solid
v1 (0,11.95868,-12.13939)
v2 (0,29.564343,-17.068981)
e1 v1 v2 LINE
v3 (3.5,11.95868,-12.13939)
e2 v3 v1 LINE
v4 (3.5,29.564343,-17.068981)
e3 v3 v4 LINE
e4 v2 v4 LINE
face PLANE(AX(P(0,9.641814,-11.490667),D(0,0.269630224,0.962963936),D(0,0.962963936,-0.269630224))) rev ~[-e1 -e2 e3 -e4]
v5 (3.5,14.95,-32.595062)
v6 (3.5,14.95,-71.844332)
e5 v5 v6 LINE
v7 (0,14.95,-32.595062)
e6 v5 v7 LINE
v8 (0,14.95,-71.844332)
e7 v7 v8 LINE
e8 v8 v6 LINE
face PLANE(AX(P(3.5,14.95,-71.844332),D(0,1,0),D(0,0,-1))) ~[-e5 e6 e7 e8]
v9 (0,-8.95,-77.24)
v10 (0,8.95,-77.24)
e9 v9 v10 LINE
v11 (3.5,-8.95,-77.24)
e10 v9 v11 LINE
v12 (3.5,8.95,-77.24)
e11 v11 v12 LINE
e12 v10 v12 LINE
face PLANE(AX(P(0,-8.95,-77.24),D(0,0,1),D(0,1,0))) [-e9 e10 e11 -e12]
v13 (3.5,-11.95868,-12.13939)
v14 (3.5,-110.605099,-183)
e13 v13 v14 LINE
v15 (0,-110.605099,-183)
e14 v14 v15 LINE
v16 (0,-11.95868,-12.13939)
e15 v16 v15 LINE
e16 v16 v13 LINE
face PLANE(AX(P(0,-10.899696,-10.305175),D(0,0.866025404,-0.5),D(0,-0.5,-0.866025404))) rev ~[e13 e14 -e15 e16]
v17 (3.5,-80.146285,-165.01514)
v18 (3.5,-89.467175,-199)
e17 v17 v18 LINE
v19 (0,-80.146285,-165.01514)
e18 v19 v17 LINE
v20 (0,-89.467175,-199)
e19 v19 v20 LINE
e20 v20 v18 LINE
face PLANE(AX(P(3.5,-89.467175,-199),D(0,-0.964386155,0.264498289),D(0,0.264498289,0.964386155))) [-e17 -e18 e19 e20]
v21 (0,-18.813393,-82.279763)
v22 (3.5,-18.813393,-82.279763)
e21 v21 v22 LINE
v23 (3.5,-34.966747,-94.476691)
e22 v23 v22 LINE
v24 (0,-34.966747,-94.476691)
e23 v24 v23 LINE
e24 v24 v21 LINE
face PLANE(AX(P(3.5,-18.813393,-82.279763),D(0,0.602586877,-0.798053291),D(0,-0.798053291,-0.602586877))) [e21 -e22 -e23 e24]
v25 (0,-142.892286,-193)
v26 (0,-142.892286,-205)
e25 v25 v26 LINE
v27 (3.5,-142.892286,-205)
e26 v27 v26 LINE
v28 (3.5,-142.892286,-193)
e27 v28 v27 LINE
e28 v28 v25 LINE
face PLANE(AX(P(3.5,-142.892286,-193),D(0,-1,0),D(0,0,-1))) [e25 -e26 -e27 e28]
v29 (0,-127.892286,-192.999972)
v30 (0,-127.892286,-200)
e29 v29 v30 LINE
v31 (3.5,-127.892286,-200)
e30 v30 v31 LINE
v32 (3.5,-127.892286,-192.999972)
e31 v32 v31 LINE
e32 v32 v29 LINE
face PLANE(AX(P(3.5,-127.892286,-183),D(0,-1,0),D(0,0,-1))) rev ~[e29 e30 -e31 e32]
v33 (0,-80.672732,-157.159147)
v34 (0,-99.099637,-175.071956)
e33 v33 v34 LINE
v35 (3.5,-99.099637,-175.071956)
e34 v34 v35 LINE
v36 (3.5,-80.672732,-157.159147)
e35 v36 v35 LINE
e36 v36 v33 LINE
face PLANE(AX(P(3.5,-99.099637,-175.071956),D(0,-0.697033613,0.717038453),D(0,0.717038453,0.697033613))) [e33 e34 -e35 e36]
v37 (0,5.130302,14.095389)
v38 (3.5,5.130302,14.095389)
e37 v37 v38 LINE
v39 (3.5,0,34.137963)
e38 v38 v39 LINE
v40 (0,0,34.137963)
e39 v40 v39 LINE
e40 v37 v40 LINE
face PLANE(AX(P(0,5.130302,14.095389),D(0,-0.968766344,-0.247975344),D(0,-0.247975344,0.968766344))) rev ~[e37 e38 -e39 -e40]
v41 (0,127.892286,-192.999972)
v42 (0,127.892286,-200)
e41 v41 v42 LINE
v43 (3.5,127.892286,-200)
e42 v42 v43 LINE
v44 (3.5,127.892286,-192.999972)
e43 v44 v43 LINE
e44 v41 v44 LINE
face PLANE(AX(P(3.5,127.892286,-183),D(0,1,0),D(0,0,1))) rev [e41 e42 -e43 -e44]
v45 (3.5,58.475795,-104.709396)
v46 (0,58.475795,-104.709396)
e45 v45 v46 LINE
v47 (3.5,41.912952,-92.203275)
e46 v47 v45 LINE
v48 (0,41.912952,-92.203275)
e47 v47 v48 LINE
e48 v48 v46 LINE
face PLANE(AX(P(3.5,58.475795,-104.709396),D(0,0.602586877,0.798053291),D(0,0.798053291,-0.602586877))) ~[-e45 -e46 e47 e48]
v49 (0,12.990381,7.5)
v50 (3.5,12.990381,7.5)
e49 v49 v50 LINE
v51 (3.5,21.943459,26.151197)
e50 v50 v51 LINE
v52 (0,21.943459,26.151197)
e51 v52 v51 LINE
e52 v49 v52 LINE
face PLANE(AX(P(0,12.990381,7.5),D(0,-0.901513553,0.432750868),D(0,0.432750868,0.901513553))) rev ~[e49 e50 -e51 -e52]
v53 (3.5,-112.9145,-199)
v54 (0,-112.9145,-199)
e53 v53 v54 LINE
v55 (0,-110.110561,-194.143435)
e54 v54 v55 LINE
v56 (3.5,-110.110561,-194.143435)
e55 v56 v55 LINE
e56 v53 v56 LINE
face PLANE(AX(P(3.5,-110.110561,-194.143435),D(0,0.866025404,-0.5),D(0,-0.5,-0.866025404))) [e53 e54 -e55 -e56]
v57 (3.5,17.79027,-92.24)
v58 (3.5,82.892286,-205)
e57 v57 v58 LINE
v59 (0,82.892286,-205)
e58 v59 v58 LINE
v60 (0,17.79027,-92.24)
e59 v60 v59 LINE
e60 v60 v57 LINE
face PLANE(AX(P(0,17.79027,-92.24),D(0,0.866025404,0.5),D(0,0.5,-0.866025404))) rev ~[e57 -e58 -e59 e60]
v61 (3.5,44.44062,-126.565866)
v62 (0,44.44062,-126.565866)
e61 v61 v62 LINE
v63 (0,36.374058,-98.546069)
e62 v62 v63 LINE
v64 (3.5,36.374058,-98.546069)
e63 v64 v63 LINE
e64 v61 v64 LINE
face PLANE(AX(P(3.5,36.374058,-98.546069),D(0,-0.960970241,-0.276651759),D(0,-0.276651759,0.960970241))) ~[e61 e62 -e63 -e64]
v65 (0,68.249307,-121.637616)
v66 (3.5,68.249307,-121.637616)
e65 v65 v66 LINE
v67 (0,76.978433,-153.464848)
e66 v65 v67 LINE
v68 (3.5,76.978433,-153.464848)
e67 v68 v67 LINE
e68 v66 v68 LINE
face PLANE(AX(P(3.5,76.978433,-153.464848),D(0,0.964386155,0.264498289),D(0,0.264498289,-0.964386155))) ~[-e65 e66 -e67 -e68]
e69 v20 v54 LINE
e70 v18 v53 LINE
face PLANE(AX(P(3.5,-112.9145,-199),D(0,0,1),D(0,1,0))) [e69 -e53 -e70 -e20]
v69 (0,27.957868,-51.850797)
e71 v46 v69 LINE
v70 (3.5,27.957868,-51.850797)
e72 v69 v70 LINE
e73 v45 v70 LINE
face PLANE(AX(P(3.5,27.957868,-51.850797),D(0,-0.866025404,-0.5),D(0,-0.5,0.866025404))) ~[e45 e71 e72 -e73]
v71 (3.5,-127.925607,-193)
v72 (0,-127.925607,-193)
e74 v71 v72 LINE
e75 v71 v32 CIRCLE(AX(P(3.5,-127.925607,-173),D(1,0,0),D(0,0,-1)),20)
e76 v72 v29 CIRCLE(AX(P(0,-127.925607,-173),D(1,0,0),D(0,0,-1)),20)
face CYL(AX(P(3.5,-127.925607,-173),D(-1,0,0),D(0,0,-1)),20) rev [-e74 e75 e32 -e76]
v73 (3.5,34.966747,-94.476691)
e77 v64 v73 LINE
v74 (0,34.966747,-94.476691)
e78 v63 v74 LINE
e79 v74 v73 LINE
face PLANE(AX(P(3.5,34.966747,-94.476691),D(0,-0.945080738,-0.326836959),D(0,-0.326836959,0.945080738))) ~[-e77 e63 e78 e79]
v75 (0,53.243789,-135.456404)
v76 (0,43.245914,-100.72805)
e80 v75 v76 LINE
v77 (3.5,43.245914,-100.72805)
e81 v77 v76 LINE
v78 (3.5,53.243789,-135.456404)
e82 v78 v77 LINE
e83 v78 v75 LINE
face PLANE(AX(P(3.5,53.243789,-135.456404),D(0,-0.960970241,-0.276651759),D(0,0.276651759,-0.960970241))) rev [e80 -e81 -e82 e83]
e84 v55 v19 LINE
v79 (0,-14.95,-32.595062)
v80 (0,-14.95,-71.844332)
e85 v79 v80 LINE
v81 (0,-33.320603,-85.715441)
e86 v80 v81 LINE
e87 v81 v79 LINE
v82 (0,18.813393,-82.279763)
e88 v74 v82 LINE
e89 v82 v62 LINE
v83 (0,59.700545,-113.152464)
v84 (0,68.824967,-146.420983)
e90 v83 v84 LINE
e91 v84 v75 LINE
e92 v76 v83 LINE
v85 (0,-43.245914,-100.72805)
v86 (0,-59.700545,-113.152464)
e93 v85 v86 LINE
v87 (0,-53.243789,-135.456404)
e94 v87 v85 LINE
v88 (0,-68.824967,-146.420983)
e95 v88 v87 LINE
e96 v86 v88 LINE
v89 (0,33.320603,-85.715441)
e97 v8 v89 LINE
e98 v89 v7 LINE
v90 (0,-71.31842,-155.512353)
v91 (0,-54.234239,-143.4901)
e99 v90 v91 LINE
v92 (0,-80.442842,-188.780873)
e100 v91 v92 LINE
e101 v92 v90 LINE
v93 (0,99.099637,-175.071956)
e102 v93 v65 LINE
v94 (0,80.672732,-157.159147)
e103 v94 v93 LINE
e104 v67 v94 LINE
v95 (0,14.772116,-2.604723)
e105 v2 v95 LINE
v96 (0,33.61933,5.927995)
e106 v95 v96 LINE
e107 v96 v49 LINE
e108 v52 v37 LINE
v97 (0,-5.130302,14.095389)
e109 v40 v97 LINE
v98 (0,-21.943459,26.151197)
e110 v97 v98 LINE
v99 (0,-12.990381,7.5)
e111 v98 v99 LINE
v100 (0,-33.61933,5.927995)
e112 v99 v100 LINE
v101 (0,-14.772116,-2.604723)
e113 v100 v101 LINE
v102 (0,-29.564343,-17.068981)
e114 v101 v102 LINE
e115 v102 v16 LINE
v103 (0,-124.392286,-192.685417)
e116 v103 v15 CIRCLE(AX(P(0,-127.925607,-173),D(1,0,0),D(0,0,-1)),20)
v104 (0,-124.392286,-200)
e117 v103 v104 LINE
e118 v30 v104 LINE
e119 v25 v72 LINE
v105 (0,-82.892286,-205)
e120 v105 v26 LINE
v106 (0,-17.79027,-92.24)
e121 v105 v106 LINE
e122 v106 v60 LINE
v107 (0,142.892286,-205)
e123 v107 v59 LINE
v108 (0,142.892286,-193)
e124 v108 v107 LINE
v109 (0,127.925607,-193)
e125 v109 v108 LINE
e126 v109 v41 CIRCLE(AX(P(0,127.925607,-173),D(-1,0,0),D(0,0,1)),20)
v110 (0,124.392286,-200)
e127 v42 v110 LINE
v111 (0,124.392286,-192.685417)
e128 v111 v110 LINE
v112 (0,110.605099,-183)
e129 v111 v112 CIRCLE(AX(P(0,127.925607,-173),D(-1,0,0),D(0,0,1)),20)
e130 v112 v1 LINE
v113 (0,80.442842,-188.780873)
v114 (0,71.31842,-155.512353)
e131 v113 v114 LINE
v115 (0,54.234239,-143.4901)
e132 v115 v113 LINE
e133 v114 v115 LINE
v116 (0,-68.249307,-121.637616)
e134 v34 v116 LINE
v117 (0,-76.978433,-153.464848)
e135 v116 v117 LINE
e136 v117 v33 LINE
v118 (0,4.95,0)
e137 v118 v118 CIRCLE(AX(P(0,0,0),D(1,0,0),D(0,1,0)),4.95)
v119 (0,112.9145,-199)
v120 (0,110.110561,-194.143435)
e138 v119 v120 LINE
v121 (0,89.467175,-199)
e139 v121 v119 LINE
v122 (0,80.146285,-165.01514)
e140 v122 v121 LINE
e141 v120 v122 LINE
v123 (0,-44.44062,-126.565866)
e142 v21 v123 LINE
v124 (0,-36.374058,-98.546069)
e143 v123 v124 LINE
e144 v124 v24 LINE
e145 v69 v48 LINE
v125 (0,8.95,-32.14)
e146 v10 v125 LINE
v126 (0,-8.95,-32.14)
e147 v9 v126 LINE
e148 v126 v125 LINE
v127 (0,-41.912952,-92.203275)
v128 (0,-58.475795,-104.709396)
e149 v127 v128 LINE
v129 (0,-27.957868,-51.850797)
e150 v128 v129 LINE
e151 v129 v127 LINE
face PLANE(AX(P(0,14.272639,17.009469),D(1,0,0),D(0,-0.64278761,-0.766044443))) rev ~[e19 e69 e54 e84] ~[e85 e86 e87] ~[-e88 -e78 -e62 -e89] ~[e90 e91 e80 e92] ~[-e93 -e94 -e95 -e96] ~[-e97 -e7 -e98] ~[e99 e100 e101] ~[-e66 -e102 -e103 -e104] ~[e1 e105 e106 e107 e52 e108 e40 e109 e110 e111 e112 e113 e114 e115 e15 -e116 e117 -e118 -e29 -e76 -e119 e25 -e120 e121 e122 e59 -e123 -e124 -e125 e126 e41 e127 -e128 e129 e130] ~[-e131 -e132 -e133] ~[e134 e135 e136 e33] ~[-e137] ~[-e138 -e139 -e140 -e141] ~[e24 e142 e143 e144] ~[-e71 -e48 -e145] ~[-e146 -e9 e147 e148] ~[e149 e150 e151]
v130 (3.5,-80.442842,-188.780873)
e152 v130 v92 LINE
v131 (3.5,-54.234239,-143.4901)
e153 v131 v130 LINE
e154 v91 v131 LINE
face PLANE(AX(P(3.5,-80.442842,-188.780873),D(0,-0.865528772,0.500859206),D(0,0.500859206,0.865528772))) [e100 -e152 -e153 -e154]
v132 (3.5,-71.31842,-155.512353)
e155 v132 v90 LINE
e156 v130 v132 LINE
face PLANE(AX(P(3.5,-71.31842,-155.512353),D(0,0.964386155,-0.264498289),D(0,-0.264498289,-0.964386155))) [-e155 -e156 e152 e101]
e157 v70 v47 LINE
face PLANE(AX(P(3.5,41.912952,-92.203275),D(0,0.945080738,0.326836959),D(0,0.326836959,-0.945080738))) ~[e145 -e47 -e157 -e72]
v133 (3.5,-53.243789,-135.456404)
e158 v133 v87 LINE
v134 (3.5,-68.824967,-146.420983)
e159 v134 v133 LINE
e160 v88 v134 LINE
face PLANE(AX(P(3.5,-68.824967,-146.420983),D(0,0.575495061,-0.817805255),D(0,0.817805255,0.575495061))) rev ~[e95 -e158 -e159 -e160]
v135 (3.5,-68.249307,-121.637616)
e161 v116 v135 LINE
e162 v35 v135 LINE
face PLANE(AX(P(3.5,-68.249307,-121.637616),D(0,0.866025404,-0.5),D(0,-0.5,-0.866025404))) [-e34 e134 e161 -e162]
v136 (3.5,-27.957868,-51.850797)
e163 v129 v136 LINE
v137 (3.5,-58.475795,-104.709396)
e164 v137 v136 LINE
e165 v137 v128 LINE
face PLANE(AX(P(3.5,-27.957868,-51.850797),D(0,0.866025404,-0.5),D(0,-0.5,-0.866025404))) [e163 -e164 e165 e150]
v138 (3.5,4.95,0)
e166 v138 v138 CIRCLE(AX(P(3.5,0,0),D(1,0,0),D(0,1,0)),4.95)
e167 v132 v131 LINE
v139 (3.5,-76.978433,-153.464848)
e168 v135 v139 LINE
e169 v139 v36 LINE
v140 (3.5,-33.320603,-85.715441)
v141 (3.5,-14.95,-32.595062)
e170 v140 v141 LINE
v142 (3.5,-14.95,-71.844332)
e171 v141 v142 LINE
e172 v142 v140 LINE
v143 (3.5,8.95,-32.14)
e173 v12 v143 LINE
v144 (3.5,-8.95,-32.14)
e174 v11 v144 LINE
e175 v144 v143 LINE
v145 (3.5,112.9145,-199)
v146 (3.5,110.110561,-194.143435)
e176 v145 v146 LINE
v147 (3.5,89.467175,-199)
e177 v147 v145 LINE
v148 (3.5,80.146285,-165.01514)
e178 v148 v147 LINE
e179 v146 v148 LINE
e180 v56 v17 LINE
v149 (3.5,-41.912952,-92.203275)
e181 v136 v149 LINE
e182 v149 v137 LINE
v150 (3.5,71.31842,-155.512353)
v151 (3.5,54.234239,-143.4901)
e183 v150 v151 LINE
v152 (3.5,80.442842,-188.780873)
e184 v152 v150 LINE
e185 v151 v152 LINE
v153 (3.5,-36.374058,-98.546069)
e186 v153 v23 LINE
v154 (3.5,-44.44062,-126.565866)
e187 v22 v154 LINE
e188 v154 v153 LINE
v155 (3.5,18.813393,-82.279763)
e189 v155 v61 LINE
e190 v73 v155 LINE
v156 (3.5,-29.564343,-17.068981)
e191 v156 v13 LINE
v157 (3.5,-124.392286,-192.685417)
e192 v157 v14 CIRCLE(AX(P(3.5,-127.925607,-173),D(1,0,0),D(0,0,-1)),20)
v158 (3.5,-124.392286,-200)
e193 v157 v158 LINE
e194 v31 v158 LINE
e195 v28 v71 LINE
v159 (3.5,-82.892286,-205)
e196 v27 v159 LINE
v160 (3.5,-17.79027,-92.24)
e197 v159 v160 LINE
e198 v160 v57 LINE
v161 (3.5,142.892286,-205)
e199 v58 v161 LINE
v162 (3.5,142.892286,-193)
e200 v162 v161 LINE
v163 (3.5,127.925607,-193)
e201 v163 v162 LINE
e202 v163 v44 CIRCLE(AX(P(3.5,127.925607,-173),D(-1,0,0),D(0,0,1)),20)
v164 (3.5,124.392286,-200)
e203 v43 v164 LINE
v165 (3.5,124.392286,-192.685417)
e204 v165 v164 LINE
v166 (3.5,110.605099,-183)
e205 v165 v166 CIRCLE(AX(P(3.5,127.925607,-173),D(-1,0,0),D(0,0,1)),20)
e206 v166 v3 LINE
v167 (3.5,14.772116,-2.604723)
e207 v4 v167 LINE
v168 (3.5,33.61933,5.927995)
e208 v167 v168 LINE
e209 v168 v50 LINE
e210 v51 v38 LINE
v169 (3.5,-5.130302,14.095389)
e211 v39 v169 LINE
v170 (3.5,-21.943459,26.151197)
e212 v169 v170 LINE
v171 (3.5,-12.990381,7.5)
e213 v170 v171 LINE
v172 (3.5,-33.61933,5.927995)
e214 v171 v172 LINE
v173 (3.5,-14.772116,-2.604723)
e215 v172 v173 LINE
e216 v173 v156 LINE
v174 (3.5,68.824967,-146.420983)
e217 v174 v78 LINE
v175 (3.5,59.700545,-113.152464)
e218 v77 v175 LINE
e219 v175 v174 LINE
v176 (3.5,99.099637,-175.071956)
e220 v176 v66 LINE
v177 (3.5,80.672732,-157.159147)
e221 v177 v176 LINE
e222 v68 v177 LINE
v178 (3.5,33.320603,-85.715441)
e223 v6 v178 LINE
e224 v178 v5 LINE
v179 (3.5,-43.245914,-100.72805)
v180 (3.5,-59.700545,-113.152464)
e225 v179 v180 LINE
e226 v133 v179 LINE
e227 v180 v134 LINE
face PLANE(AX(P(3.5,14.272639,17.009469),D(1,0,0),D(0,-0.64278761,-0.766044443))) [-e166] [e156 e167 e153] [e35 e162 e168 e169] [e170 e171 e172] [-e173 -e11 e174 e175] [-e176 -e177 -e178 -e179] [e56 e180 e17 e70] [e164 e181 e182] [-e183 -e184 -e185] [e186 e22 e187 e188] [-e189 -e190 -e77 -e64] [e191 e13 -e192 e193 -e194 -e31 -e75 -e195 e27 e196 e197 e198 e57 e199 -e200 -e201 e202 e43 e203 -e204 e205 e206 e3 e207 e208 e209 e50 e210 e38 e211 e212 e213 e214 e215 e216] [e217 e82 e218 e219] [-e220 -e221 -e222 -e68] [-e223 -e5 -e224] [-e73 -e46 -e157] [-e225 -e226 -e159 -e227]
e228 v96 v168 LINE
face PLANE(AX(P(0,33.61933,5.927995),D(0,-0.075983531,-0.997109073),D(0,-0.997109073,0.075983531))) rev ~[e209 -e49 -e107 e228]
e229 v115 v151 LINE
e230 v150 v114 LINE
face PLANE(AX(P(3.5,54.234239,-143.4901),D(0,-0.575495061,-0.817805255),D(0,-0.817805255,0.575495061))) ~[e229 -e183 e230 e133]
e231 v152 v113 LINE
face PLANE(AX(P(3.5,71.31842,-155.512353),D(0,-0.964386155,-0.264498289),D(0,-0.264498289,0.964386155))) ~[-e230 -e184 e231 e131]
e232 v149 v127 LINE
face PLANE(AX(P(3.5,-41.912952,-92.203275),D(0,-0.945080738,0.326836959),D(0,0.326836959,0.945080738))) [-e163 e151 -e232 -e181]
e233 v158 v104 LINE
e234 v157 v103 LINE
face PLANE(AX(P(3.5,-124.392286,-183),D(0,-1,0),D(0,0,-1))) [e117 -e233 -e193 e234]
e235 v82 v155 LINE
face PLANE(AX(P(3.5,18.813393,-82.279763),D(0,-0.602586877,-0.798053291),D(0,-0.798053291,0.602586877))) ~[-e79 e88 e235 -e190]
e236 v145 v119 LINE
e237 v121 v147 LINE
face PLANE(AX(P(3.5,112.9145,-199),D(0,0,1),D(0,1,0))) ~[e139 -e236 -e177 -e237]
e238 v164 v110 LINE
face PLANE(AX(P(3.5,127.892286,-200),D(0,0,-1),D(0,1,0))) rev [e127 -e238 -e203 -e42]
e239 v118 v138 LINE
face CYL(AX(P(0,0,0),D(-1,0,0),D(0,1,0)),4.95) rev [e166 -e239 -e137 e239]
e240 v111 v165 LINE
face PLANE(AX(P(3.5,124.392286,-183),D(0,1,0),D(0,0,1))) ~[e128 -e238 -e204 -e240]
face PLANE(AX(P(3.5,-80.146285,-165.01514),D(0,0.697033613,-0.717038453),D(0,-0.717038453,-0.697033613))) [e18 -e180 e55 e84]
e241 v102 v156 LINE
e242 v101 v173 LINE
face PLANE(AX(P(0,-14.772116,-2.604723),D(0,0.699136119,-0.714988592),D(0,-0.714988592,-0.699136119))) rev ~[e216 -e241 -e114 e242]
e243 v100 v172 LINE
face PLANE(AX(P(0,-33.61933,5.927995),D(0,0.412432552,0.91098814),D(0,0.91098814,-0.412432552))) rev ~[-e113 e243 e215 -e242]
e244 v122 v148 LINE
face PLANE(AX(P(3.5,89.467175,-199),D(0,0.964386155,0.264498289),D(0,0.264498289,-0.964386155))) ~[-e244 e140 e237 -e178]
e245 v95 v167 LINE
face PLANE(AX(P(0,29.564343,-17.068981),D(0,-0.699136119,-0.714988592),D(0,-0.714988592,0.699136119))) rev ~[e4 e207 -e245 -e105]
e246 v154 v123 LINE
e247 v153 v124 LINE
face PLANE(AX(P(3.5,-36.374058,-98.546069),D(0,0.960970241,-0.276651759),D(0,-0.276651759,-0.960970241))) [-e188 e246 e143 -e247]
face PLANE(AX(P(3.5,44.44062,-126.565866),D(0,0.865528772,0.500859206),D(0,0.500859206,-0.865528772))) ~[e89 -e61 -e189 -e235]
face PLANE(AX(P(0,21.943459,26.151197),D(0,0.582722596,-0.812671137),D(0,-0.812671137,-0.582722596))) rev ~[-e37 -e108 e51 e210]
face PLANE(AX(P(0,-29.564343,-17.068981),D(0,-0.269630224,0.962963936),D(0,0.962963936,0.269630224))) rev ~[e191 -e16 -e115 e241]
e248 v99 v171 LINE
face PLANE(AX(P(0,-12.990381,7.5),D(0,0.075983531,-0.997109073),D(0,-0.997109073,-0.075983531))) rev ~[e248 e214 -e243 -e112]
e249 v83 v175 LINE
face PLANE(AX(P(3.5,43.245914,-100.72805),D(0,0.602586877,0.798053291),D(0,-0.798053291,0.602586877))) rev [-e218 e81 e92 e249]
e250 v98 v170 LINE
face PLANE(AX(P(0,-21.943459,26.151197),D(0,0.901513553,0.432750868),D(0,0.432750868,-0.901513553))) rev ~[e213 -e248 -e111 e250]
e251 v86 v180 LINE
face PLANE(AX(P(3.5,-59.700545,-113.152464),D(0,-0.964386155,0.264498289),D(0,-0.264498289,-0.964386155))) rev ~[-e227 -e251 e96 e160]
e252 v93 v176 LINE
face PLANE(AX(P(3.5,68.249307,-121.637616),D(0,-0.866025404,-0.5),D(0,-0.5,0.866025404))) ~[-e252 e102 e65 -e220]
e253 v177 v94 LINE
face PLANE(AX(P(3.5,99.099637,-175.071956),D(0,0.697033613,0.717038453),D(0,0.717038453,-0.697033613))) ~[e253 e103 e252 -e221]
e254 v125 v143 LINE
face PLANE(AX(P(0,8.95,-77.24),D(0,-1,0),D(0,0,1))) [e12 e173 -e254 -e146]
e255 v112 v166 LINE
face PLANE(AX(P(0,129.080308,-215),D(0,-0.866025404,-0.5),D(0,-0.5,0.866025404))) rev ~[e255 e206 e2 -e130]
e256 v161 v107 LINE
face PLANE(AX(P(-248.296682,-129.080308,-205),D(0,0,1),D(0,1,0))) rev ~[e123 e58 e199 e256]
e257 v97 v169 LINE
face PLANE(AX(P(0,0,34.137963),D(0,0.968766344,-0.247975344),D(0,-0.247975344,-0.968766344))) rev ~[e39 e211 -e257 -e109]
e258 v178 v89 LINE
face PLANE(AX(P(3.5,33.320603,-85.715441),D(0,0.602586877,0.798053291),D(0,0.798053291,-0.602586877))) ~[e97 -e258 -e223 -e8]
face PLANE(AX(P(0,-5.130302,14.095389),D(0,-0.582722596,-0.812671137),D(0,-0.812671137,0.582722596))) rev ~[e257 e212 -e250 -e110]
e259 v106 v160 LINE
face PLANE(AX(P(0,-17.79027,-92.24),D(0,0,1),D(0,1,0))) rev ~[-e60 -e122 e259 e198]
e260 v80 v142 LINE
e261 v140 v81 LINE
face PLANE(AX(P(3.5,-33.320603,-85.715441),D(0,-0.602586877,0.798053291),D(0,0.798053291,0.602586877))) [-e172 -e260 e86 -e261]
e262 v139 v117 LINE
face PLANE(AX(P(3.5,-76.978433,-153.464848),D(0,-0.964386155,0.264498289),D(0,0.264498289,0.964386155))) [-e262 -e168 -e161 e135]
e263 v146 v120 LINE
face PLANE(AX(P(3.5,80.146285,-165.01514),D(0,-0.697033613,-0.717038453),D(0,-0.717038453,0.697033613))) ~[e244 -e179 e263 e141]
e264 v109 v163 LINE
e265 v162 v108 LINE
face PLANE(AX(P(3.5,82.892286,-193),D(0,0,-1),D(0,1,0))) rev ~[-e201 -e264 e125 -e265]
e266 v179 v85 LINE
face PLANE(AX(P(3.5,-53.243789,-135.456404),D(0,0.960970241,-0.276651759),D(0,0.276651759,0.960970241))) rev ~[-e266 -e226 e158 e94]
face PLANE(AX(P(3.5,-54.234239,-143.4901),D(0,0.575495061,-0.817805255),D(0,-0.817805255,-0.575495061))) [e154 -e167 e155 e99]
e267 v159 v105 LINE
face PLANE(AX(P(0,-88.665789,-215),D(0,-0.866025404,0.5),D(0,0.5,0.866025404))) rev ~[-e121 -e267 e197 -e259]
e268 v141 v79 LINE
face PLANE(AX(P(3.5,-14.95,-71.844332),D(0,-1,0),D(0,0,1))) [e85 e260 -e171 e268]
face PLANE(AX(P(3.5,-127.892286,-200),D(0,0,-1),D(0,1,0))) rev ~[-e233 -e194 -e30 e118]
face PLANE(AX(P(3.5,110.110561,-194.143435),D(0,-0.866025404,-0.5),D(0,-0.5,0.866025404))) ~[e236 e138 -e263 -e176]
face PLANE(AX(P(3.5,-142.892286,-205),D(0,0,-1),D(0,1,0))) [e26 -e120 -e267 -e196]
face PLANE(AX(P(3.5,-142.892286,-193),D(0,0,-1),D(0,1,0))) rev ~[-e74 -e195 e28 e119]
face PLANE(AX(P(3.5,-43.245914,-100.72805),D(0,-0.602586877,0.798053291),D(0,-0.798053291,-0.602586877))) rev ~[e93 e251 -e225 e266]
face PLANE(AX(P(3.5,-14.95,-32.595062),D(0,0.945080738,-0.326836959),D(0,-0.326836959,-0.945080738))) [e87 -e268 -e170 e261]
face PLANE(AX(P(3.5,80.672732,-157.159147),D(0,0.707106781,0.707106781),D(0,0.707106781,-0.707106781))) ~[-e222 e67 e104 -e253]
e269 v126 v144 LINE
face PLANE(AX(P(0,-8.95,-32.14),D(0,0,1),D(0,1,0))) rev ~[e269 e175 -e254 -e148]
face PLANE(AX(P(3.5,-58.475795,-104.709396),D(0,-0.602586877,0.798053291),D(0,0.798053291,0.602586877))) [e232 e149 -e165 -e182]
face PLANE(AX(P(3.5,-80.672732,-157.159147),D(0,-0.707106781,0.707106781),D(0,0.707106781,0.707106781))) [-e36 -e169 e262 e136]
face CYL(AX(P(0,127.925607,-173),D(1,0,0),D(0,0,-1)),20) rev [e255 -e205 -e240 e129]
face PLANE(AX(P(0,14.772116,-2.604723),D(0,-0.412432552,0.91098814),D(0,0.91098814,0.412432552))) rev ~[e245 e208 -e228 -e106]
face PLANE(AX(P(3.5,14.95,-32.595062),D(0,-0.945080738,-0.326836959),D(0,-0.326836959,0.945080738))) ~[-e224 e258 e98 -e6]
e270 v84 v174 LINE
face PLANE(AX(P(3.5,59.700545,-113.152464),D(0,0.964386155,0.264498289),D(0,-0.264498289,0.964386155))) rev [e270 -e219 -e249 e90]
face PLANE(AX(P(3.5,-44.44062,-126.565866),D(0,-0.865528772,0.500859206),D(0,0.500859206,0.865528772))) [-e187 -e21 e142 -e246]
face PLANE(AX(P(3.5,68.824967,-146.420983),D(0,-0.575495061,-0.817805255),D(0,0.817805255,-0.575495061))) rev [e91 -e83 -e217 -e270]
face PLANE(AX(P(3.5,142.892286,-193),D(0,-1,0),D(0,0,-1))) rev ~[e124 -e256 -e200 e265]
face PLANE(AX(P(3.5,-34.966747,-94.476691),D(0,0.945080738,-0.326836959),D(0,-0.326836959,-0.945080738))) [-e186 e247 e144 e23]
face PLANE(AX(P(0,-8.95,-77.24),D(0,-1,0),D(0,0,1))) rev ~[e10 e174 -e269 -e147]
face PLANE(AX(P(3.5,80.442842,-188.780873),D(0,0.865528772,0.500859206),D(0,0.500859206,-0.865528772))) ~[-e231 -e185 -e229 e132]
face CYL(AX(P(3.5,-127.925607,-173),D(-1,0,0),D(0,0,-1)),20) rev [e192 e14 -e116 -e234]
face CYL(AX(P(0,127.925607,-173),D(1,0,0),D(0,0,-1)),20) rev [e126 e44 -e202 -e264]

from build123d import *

# Parameters (mm, degrees)
SKETCH1_R               = 4.95
SKETCH1_W               = 17.9
SKETCH1_H               = 45.1
BOSS_EXTRUDE1_DEPTH     = 3.5
CUT_EXTRUDE1_DEPTH      = 251.796682357
CUT_EXTRUDE1_DEPTH_BACK = 251.796682357
SKETCH2_W               = 258.160615752
SKETCH2_H               = 10
SKETCH3_W               = 12
SKETCH3_H               = 60
BOSS_EXTRUDE2_DEPTH     = 3.5
FILLET1_R               = 20
BOSS_EXTRUDE3_START     = -3.5
BOSS_EXTRUDE3_DEPTH     = 3.5
CIRPATTERN1_COUNT       = 9
SKETCH5_W               = 17
SKETCH5_H               = 3.5
CUT_EXTRUDE2_DEPTH      = 250.910895112
CUT_EXTRUDE3_DEPTH      = 250.910895112


with BuildPart() as part:
    # Sketch1 → Boss-Extrude1 (new body)
    with BuildSketch(Plane.YZ):
        with BuildLine():
            Line((-10.899695646, -10.305175148), (-129.080307876, -215))
            Line((-129.080307876, -215), (-88.665789032, -215))
            Line((-88.665789032, -215), (-17.790269987, -92.24))
            Line((-17.790269987, -92.24), (17.790269987, -92.24))
            Line((17.790269987, -92.24), (88.665789032, -215))
            Line((88.665789032, -215), (129.080307876, -215))
            Line((129.080307876, -215), (10.899695646, -10.305175148))
            ThreePointArc((10.899695646, -10.305175148), (0, 15), (-10.899695646, -10.305175148))
        make_face()
        Circle(SKETCH1_R, mode=Mode.SUBTRACT)
        with Locations((0, -54.69)):
            Rectangle(SKETCH1_W, SKETCH1_H, mode=Mode.SUBTRACT)
    extrude(amount=BOSS_EXTRUDE1_DEPTH)

    # Sketch2 → Cut-Extrude1 (cut, two sides: drawn at the far end of the back side and taken through both)
    with BuildSketch(Plane.YZ.offset(3.5).offset(-CUT_EXTRUDE1_DEPTH_BACK)):
        with Locations((0, -210)):
            Rectangle(SKETCH2_W, SKETCH2_H)
    extrude(amount=CUT_EXTRUDE1_DEPTH + CUT_EXTRUDE1_DEPTH_BACK, mode=Mode.SUBTRACT)

    # Sketch3 → Boss-Extrude2 (add)
    with BuildSketch(Plane(origin=(3.5, 0, 0), x_dir=(0, 0, -1), z_dir=(1, 0, 0))):
        with Locations((199, -112.892286341)):
            Rectangle(SKETCH3_W, SKETCH3_H)
        with Locations((199, 112.892286341)):
            Rectangle(SKETCH3_W, SKETCH3_H)
    extrude(amount=-BOSS_EXTRUDE2_DEPTH)

    # Fillet1
    fillet1_edges = [part.edges().sort_by_distance(p)[0] for p in [
        (1.75, 116.378601954, -193),
        (1.75, -116.378601954, -193),
    ]]
    fillet(fillet1_edges, radius=FILLET1_R)

    # Sketch4 → Boss-Extrude3 (add)
    with BuildSketch(Plane(origin=(3.5, 0, 0), x_dir=(0, 0, -1), z_dir=(1, 0, 0)).offset(BOSS_EXTRUDE3_START)):
        with BuildLine():
            Line((-34.137962787, 0), (-14.095389312, -5.13030215))
            ThreePointArc((-14.095389312, -5.13030215), (-15, 0), (-14.095389312, 5.13030215))
            Line((-14.095389312, 5.13030215), (-34.137962787, 0))
        make_face()
    boss_extrude3 = extrude(amount=BOSS_EXTRUDE3_DEPTH)

    # CirPattern1: Boss-Extrude3 ×9 about axis
    cirpattern1_axis = Axis((-0.1751615, 0, 0), (1, 0, 0))
    for i in range(1, CIRPATTERN1_COUNT):
        add(boss_extrude3.rotate(cirpattern1_axis, i * 360 / CIRPATTERN1_COUNT))

    # Sketch5 → Cut-Extrude2 (cut, symmetric)
    with BuildSketch(Plane(origin=(3.5, 0, 0), x_dir=(0, 0, -1), z_dir=(1, 0, 0))):
        with Locations((191.5, -126.142286341)):
            Rectangle(SKETCH5_W, SKETCH5_H)
    cut_extrude2 = extrude(amount=CUT_EXTRUDE2_DEPTH, both=True, mode=Mode.SUBTRACT)

    # Mirror1: Cut-Extrude2 across plane
    add(cut_extrude2.mirror(Plane.ZX), mode=Mode.SUBTRACT)

    # Sketch6 → Cut-Extrude3 (cut, symmetric)
    with BuildSketch(Plane.YZ.offset(3.5)):
        Polygon((-44.440620352, -126.565865893), (-18.81339339, -82.279763058), (-34.966746745, -94.476691336), (-36.374058239, -98.54606889), align=None)
        Polygon((-33.320603167, -85.715441185), (-14.95, -71.844331927), (-14.95, -32.59506202), align=None)
        Polygon((-80.442842118, -188.780872527), (-54.234238638, -143.490099921), (-71.318419935, -155.512353255), align=None)
        Polygon((-41.912952433, -92.203274728), (-27.957868434, -51.850797102), (-58.475794969, -104.709396402), align=None)
        Polygon((-112.914500338, -199), (-89.467175046, -199), (-80.146284863, -165.015139537), (-110.110561046, -194.143434684), align=None)
        Polygon((-76.978433226, -153.464848336), (-68.249306861, -121.637615567), (-99.099637478, -175.071955626), (-80.672732205, -157.159147315), align=None)
        Polygon((-43.245914121, -100.728050325), (-59.700544534, -113.152464165), (-68.824966717, -146.420983438), (-53.243788825, -135.456403713), align=None)
    cut_extrude3 = extrude(amount=CUT_EXTRUDE3_DEPTH, both=True, mode=Mode.SUBTRACT)

    # Mirror2: Cut-Extrude3 across plane
    add(cut_extrude3.mirror(Plane.ZX), mode=Mode.SUBTRACT)


solid = part.part
